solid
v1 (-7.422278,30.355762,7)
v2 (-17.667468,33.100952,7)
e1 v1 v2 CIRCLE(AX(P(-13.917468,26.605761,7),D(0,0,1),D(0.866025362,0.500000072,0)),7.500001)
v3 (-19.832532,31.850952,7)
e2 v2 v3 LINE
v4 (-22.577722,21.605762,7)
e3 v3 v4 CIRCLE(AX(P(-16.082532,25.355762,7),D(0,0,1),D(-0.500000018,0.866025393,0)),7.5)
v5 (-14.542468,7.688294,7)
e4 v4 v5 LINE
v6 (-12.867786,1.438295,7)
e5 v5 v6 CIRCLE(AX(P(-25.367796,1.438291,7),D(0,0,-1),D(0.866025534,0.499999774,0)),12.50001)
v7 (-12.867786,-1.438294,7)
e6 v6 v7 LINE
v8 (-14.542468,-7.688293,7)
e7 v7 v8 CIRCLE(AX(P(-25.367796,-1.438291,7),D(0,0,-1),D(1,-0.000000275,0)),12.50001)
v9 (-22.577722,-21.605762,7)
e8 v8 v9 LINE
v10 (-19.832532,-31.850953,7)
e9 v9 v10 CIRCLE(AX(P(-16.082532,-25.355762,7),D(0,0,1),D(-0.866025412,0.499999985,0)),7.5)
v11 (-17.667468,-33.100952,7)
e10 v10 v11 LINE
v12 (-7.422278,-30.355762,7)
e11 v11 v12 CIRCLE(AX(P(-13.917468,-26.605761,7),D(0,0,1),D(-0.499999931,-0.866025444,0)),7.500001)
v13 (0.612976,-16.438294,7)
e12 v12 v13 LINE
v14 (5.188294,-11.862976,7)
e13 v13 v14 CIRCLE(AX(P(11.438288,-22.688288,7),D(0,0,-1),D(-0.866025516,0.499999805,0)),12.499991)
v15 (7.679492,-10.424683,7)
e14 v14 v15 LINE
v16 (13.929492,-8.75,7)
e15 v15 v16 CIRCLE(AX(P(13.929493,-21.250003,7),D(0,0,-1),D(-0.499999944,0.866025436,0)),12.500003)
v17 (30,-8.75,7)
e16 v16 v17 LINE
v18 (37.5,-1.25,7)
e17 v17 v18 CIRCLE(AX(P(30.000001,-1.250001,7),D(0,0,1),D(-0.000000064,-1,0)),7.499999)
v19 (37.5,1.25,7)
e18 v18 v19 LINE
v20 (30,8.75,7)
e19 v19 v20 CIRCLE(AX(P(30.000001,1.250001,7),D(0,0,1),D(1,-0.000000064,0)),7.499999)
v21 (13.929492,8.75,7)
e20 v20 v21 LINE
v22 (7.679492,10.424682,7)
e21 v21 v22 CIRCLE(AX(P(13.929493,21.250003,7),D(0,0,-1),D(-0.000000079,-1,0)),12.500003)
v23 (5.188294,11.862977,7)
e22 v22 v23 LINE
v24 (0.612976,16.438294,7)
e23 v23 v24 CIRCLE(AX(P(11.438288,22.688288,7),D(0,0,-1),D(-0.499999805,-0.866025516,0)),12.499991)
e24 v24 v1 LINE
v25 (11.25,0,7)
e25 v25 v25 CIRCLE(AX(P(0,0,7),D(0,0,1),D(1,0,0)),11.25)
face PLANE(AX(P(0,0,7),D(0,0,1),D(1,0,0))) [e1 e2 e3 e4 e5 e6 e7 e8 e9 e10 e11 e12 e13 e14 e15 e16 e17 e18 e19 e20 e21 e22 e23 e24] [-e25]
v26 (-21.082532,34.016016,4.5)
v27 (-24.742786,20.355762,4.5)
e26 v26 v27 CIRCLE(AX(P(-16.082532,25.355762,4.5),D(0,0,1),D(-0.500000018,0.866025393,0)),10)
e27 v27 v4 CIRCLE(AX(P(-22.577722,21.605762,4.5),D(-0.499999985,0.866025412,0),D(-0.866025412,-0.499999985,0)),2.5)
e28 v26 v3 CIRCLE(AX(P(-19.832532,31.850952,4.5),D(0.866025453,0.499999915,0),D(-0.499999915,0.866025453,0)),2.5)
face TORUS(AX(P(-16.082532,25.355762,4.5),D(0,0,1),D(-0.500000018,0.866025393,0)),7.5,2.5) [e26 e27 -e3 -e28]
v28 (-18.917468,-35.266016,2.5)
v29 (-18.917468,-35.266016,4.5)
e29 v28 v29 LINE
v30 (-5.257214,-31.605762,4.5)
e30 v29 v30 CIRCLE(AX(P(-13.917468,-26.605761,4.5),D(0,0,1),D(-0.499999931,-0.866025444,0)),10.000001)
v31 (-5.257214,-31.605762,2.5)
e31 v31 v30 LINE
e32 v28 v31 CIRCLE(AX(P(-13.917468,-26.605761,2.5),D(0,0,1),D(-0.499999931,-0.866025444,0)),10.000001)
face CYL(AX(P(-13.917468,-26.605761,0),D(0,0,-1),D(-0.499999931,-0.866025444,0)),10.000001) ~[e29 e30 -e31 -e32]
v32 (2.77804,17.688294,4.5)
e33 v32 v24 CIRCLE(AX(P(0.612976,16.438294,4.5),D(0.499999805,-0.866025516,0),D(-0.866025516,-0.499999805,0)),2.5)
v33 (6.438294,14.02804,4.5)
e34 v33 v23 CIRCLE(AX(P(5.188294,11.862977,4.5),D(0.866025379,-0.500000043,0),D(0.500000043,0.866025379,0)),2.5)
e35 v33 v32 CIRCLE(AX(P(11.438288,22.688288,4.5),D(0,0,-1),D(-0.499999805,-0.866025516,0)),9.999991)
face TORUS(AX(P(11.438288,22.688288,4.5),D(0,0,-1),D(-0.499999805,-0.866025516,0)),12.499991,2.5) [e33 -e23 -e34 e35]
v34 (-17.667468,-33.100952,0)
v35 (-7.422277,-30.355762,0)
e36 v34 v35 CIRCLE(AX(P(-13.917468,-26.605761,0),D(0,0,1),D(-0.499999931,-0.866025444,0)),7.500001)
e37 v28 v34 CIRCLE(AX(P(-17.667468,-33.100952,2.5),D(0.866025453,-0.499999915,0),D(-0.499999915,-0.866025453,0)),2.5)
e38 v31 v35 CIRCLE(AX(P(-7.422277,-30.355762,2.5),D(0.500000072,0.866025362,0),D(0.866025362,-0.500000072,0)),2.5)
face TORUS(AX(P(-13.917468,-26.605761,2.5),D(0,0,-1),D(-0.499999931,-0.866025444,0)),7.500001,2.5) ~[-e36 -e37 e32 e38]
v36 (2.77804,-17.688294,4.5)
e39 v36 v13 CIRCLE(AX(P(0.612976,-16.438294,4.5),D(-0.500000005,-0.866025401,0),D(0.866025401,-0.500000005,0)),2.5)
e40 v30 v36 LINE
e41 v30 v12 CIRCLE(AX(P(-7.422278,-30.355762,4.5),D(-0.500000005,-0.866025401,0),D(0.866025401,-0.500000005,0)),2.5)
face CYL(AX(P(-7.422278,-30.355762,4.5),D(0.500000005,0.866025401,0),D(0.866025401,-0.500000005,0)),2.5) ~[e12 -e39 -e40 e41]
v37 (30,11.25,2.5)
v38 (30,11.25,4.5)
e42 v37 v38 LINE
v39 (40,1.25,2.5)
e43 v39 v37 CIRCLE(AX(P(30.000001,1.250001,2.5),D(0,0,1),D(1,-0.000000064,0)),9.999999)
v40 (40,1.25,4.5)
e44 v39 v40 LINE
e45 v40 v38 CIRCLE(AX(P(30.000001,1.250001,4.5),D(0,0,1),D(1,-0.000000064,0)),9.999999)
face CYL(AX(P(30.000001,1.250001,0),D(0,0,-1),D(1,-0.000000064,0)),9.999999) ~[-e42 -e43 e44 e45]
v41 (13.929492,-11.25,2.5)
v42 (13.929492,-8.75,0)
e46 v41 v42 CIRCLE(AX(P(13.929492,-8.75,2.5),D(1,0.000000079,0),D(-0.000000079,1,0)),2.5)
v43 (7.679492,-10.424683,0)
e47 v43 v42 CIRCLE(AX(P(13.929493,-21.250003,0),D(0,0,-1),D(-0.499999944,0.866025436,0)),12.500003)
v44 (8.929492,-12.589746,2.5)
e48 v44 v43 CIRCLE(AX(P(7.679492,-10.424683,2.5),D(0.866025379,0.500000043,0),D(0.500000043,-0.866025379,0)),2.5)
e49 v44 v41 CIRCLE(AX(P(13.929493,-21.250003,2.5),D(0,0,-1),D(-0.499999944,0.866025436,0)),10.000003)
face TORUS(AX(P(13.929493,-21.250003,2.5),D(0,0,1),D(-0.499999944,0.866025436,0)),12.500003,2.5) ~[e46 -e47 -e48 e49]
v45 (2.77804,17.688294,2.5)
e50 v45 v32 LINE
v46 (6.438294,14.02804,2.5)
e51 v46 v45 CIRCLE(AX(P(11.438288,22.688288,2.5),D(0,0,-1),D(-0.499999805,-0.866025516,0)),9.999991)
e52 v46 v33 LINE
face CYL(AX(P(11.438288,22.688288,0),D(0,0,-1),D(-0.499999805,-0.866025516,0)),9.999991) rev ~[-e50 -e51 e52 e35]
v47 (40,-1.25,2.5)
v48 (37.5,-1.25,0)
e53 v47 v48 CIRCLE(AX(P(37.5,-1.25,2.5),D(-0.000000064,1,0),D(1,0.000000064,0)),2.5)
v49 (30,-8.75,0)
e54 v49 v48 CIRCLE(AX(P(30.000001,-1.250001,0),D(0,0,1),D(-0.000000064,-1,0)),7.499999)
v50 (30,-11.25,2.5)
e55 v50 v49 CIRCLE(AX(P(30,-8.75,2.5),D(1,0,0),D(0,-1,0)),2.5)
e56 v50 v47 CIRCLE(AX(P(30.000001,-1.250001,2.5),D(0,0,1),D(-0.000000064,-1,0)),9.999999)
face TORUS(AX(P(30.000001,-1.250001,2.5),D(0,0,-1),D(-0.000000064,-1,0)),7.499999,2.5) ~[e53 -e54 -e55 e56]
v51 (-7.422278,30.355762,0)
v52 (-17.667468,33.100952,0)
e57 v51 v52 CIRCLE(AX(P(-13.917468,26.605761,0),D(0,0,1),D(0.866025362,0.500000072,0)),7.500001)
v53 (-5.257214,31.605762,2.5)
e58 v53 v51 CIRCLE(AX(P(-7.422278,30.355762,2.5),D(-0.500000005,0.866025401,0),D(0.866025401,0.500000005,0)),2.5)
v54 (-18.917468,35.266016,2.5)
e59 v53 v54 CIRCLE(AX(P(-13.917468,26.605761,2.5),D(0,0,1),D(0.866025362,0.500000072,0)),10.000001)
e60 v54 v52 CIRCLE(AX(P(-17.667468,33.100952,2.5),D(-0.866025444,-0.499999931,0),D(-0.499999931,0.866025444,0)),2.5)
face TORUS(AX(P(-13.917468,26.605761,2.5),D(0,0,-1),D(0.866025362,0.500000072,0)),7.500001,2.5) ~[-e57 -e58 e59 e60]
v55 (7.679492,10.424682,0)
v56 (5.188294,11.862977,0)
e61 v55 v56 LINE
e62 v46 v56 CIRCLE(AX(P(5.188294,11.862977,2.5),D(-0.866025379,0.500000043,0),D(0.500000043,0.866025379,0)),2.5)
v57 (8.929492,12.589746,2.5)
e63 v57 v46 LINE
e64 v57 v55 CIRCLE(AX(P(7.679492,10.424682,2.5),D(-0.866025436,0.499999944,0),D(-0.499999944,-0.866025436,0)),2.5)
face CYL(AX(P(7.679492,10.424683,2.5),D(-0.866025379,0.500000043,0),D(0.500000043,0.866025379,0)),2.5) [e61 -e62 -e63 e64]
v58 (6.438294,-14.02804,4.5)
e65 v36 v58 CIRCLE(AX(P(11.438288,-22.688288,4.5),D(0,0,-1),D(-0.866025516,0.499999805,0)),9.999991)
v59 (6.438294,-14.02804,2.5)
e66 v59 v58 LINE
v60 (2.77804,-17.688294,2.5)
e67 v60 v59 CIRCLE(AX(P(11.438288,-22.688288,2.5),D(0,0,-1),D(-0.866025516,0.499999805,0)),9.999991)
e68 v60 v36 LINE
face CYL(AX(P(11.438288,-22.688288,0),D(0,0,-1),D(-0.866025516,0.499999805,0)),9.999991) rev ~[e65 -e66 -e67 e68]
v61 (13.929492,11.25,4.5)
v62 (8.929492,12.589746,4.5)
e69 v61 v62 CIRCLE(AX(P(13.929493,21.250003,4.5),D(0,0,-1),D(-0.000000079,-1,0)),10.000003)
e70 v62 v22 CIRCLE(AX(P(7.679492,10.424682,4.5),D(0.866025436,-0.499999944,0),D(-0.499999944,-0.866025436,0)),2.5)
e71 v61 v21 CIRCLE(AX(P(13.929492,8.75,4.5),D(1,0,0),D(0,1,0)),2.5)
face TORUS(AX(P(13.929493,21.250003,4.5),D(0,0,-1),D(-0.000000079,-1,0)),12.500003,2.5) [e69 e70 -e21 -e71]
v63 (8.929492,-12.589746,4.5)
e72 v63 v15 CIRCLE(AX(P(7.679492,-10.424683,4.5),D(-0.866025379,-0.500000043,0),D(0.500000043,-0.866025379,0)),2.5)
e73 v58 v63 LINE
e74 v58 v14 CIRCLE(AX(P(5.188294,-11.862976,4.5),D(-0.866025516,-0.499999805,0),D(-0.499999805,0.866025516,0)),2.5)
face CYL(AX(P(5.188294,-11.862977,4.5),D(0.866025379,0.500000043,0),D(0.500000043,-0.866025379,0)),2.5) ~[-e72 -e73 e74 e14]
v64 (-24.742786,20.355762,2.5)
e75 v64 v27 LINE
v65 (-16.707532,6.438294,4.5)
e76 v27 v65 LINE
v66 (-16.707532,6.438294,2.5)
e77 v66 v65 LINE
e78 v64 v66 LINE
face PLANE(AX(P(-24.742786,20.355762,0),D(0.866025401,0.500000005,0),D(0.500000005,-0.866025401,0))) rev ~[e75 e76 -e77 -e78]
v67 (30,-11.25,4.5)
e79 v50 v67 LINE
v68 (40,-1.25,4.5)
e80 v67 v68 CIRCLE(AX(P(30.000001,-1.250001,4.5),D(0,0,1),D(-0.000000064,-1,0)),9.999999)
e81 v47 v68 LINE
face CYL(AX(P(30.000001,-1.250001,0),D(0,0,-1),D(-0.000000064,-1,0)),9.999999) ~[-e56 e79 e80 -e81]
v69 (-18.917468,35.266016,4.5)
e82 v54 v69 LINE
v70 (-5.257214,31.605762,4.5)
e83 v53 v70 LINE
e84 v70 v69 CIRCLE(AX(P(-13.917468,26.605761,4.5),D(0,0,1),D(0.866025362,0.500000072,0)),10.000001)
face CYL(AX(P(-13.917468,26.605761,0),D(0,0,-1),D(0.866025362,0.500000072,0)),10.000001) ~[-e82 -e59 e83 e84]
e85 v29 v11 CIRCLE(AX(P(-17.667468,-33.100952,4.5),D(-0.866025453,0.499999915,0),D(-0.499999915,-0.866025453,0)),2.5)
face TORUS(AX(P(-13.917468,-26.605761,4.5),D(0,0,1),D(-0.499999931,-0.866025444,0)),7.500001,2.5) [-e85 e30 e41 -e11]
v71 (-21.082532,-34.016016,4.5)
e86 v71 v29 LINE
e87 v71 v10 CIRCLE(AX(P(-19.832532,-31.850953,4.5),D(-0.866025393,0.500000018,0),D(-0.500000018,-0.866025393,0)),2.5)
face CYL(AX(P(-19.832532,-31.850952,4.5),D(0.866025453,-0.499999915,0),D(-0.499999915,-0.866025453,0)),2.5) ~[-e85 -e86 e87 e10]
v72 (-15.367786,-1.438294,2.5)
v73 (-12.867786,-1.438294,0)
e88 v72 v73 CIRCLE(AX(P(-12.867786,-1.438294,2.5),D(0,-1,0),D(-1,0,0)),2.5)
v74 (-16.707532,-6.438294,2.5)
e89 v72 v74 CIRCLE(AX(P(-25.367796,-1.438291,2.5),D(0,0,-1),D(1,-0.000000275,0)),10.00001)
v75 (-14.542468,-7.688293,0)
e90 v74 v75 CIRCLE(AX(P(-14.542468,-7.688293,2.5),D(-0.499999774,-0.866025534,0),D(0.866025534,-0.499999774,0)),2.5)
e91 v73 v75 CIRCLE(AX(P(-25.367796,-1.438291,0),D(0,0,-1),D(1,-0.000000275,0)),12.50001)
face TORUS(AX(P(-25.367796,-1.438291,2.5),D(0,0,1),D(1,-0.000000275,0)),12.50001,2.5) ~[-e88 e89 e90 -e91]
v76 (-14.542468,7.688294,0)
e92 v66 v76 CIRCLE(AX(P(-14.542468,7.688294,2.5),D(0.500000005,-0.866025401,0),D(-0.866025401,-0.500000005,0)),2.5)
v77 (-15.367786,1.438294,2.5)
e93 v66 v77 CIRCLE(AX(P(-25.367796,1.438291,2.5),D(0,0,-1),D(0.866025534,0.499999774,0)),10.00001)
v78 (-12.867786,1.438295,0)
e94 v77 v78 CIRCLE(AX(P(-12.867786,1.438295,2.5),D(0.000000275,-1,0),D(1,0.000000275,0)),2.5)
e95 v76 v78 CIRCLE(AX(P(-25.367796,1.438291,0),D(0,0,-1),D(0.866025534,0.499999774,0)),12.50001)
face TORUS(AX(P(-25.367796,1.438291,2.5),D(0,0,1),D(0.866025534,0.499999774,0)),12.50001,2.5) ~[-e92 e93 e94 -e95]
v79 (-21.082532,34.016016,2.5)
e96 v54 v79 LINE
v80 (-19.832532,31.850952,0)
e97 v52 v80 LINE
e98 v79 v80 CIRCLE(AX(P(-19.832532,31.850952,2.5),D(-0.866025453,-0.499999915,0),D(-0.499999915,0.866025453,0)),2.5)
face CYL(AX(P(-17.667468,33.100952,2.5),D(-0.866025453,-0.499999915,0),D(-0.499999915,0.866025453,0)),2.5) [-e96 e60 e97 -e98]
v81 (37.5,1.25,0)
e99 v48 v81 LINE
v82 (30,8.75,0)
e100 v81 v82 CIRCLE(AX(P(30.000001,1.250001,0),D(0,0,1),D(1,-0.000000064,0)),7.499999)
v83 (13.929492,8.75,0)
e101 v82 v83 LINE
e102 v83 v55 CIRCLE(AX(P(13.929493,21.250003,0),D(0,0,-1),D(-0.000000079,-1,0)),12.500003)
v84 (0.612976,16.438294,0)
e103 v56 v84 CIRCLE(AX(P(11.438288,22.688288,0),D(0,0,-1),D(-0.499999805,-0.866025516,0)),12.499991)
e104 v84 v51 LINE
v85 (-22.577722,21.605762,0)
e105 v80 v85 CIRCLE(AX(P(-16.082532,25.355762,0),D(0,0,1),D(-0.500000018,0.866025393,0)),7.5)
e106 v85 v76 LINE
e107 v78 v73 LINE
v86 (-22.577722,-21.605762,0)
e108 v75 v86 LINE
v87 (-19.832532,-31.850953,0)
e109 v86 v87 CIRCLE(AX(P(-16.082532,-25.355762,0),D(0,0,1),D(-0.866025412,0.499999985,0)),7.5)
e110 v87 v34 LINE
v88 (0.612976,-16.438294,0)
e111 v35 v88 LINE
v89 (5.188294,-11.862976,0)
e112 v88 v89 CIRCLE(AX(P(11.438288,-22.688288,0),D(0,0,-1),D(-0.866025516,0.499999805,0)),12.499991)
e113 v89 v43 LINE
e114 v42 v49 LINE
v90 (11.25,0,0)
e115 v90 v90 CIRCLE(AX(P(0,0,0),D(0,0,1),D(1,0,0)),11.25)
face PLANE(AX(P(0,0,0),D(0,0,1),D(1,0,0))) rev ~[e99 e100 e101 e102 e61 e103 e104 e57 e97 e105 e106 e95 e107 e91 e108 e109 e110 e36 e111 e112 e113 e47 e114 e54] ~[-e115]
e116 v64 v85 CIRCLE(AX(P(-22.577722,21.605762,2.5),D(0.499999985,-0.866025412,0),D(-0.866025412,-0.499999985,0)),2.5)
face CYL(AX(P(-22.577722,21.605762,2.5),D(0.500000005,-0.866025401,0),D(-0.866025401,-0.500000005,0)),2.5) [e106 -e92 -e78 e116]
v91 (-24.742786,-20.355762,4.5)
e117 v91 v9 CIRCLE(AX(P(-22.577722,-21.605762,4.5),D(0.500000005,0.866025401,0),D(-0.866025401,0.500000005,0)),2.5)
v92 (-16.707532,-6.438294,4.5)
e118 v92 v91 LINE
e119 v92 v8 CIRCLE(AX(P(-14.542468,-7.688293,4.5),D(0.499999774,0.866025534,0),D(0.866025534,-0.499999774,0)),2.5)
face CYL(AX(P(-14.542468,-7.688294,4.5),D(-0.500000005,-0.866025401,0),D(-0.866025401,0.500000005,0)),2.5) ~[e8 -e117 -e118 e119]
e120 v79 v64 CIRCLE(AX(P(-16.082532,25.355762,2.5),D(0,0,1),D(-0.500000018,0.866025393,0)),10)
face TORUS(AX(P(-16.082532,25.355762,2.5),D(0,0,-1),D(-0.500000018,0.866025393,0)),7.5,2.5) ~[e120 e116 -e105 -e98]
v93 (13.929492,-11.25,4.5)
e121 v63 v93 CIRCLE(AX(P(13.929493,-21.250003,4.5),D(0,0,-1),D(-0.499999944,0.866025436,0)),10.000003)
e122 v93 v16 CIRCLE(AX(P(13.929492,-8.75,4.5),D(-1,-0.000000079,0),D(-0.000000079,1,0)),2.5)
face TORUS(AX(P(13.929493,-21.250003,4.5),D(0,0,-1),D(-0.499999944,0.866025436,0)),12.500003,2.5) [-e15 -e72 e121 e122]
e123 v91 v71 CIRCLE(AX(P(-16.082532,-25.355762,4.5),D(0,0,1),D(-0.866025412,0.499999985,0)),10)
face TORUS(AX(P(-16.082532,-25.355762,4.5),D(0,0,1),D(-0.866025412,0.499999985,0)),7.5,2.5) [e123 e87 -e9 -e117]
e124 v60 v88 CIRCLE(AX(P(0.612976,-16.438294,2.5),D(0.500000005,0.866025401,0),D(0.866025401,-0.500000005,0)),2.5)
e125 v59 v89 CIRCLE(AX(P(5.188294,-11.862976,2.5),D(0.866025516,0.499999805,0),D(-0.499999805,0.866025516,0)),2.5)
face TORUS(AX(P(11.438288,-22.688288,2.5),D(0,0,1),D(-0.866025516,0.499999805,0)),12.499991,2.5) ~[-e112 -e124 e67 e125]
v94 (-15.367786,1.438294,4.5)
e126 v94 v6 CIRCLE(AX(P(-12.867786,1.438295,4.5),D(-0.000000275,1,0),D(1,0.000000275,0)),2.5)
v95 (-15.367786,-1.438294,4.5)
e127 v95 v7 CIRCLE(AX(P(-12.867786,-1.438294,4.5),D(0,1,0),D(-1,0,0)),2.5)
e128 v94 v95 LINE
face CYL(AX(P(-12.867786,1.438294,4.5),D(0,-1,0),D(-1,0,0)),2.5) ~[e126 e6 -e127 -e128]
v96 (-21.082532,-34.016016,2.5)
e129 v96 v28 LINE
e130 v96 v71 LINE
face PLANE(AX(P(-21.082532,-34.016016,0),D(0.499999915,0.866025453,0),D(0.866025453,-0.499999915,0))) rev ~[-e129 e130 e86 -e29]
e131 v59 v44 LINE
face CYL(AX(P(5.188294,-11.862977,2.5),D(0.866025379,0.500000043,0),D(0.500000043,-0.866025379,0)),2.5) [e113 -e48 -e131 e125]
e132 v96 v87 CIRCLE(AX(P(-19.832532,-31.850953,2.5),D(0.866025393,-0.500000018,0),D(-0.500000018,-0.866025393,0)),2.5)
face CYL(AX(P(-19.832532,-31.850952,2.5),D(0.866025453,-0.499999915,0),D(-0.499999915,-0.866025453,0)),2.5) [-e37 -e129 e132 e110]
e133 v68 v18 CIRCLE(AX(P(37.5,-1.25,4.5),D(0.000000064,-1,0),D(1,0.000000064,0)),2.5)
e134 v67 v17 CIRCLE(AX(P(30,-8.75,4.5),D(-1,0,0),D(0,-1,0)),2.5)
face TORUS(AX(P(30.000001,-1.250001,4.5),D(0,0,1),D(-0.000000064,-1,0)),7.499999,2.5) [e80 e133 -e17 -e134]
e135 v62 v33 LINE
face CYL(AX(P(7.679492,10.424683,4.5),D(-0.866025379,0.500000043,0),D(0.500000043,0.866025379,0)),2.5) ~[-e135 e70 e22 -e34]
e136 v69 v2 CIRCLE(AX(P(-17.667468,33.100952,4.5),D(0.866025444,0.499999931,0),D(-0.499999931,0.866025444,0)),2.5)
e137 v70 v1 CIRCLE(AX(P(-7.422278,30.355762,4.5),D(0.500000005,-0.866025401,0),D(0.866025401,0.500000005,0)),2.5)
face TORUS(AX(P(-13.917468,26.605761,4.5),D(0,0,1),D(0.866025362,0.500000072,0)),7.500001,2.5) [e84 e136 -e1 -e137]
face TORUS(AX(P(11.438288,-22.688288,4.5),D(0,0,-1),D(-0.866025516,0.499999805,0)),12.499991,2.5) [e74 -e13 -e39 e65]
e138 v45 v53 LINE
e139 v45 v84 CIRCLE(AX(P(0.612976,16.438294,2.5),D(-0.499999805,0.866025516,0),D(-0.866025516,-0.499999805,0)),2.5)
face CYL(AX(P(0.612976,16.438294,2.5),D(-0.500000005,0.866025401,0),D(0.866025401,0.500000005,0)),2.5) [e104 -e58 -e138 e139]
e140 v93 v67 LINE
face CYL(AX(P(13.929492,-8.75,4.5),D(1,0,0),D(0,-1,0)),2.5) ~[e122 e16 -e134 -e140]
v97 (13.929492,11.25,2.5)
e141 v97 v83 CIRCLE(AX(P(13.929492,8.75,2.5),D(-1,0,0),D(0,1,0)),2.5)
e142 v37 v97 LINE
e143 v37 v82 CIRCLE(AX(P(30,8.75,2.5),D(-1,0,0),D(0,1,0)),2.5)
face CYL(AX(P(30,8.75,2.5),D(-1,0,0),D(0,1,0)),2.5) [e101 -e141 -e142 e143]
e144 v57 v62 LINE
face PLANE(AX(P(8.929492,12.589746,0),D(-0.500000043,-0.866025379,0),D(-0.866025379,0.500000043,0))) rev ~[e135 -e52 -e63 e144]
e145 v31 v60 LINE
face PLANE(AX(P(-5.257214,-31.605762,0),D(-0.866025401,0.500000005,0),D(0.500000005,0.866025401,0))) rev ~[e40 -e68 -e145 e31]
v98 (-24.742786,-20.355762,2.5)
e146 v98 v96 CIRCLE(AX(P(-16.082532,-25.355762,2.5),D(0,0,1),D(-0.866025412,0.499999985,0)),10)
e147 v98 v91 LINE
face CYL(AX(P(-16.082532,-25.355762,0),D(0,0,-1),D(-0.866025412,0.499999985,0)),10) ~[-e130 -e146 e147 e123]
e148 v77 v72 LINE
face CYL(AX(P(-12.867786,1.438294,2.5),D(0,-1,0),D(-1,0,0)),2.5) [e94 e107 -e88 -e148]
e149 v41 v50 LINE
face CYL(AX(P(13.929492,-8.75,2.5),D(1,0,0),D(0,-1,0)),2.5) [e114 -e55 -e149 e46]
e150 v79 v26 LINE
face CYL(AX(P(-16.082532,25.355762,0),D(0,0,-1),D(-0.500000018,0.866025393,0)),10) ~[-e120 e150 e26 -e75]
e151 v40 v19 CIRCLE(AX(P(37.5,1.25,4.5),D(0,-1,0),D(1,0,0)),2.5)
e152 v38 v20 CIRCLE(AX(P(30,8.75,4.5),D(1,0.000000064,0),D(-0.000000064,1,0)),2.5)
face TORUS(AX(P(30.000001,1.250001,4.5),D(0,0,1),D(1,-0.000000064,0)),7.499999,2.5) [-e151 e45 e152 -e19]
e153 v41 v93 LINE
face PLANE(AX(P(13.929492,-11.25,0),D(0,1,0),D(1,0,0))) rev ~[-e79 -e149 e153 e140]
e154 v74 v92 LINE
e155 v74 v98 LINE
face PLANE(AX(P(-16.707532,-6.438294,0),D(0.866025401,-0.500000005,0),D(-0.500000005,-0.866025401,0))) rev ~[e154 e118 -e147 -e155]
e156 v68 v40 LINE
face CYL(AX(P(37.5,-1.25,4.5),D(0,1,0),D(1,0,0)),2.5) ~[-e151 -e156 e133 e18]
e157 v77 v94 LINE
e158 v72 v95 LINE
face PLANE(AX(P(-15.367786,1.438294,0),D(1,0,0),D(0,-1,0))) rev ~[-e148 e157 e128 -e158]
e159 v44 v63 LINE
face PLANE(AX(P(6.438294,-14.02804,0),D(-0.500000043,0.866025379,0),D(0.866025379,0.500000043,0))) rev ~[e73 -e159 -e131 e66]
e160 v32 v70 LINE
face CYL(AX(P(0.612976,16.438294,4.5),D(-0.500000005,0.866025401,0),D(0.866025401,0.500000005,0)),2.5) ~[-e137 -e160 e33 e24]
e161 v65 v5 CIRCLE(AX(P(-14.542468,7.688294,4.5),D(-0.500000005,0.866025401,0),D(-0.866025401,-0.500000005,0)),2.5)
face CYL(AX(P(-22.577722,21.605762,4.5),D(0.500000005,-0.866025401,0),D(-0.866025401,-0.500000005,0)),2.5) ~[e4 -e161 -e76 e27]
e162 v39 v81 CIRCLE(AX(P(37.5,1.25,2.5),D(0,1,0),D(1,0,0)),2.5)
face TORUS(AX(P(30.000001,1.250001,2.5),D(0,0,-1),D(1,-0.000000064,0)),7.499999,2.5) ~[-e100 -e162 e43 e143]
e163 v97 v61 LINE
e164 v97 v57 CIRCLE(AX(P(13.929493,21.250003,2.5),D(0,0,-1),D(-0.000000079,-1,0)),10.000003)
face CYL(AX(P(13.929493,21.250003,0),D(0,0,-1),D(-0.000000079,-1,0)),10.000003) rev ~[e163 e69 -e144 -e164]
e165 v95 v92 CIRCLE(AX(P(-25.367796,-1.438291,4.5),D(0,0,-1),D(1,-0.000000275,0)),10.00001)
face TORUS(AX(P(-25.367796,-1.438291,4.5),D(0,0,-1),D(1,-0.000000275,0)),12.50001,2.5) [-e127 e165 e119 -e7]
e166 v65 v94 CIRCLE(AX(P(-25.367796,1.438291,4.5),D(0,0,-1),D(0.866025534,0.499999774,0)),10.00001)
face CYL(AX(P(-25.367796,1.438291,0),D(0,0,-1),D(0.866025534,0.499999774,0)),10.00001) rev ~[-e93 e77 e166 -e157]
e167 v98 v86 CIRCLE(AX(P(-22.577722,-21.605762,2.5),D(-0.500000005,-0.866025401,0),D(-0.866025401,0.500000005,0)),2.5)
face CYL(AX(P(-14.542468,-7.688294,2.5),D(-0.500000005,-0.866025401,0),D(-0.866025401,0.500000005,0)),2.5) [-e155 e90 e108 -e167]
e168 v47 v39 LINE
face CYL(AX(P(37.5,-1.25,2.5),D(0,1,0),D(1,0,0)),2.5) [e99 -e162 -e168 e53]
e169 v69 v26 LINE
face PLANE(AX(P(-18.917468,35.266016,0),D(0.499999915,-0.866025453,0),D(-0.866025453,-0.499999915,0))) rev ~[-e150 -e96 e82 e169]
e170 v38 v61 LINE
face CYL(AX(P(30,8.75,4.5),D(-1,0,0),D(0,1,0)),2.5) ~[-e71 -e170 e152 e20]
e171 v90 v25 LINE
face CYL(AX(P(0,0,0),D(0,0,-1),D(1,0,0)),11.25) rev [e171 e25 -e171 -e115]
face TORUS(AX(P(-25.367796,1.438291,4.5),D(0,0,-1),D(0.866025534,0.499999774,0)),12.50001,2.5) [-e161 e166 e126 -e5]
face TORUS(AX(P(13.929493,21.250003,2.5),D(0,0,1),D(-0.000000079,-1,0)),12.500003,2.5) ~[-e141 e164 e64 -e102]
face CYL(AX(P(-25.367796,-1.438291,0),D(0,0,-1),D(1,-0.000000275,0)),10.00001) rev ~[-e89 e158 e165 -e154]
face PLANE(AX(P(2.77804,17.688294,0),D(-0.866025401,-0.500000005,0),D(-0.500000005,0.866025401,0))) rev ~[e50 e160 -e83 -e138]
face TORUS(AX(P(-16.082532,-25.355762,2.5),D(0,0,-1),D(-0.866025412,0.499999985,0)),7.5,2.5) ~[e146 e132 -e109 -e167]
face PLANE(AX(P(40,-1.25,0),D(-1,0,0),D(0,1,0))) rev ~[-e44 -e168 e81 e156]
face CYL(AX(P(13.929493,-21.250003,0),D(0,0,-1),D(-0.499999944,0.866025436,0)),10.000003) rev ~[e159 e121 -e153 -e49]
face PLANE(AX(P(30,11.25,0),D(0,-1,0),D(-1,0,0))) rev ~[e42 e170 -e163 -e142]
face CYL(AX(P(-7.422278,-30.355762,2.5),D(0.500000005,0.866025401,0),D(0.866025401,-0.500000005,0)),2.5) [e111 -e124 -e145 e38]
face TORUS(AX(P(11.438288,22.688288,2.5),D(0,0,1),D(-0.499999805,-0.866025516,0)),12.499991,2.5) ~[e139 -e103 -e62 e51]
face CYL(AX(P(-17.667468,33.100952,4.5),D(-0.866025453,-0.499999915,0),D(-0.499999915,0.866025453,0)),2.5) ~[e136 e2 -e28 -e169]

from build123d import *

# Parameters (mm, degrees)
F0_R     = 11.25
F1_DEPTH = 7
F2_R     = 2.5


with BuildPart() as f1:
    # F0 (on Top) → F1 (new body)
    with BuildSketch(Plane.XY):
        with BuildLine():
            ThreePointArc((8.929492, -12.589746), (11.341301, -11.590742), (13.929492, -11.25))
            Line((13.929492, -11.25), (30, -11.25))
            ThreePointArc((30, -11.25), (37.071068, -8.321068), (40, -1.25))
            Line((40, -1.25), (40, 1.25))
            ThreePointArc((40, 1.25), (37.071068, 8.321068), (30, 11.25))
            Line((30, 11.25), (13.929492, 11.25))
            ThreePointArc((13.929492, 11.25), (11.341301, 11.590742), (8.929492, 12.589746))
            Line((8.929492, 12.589746), (6.438294, 14.02804))
            ThreePointArc((6.438294, 14.02804), (4.367226, 15.617226), (2.77804, 17.688294))
            Line((2.77804, 17.688294), (-5.257214, 31.605762))
            ThreePointArc((-5.257214, 31.605762), (-11.329278, 36.26502), (-18.917468, 35.266016))
            Line((-18.917468, 35.266016), (-21.082532, 34.016016))
            ThreePointArc((-21.082532, 34.016016), (-25.74179, 27.943953), (-24.742786, 20.355762))
            Line((-24.742786, 20.355762), (-16.707532, 6.438294))
            ThreePointArc((-16.707532, 6.438294), (-15.708528, 4.026484), (-15.367786, 1.438294))
            Line((-15.367786, 1.438294), (-15.367786, -1.438294))
            ThreePointArc((-15.367786, -1.438294), (-15.708528, -4.026484), (-16.707532, -6.438294))
            Line((-16.707532, -6.438294), (-24.742786, -20.355762))
            ThreePointArc((-24.742786, -20.355762), (-25.74179, -27.943953), (-21.082532, -34.016016))
            Line((-21.082532, -34.016016), (-18.917468, -35.266016))
            ThreePointArc((-18.917468, -35.266016), (-11.329278, -36.26502), (-5.257214, -31.605762))
            Line((-5.257214, -31.605762), (2.77804, -17.688294))
            ThreePointArc((2.77804, -17.688294), (4.367226, -15.617226), (6.438294, -14.02804))
            Line((6.438294, -14.02804), (8.929492, -12.589746))
        make_face()
        Circle(F0_R, mode=Mode.SUBTRACT)
    extrude(amount=F1_DEPTH)

    # F2
    f2_edges = [f1.edges().sort_by_distance(p)[0] for p in [
        (-1.239587, -24.647028, 7),
        (21.964746, 11.25, 0),
    ]]
    fillet(f2_edges, radius=F2_R)


solid = f1.part
